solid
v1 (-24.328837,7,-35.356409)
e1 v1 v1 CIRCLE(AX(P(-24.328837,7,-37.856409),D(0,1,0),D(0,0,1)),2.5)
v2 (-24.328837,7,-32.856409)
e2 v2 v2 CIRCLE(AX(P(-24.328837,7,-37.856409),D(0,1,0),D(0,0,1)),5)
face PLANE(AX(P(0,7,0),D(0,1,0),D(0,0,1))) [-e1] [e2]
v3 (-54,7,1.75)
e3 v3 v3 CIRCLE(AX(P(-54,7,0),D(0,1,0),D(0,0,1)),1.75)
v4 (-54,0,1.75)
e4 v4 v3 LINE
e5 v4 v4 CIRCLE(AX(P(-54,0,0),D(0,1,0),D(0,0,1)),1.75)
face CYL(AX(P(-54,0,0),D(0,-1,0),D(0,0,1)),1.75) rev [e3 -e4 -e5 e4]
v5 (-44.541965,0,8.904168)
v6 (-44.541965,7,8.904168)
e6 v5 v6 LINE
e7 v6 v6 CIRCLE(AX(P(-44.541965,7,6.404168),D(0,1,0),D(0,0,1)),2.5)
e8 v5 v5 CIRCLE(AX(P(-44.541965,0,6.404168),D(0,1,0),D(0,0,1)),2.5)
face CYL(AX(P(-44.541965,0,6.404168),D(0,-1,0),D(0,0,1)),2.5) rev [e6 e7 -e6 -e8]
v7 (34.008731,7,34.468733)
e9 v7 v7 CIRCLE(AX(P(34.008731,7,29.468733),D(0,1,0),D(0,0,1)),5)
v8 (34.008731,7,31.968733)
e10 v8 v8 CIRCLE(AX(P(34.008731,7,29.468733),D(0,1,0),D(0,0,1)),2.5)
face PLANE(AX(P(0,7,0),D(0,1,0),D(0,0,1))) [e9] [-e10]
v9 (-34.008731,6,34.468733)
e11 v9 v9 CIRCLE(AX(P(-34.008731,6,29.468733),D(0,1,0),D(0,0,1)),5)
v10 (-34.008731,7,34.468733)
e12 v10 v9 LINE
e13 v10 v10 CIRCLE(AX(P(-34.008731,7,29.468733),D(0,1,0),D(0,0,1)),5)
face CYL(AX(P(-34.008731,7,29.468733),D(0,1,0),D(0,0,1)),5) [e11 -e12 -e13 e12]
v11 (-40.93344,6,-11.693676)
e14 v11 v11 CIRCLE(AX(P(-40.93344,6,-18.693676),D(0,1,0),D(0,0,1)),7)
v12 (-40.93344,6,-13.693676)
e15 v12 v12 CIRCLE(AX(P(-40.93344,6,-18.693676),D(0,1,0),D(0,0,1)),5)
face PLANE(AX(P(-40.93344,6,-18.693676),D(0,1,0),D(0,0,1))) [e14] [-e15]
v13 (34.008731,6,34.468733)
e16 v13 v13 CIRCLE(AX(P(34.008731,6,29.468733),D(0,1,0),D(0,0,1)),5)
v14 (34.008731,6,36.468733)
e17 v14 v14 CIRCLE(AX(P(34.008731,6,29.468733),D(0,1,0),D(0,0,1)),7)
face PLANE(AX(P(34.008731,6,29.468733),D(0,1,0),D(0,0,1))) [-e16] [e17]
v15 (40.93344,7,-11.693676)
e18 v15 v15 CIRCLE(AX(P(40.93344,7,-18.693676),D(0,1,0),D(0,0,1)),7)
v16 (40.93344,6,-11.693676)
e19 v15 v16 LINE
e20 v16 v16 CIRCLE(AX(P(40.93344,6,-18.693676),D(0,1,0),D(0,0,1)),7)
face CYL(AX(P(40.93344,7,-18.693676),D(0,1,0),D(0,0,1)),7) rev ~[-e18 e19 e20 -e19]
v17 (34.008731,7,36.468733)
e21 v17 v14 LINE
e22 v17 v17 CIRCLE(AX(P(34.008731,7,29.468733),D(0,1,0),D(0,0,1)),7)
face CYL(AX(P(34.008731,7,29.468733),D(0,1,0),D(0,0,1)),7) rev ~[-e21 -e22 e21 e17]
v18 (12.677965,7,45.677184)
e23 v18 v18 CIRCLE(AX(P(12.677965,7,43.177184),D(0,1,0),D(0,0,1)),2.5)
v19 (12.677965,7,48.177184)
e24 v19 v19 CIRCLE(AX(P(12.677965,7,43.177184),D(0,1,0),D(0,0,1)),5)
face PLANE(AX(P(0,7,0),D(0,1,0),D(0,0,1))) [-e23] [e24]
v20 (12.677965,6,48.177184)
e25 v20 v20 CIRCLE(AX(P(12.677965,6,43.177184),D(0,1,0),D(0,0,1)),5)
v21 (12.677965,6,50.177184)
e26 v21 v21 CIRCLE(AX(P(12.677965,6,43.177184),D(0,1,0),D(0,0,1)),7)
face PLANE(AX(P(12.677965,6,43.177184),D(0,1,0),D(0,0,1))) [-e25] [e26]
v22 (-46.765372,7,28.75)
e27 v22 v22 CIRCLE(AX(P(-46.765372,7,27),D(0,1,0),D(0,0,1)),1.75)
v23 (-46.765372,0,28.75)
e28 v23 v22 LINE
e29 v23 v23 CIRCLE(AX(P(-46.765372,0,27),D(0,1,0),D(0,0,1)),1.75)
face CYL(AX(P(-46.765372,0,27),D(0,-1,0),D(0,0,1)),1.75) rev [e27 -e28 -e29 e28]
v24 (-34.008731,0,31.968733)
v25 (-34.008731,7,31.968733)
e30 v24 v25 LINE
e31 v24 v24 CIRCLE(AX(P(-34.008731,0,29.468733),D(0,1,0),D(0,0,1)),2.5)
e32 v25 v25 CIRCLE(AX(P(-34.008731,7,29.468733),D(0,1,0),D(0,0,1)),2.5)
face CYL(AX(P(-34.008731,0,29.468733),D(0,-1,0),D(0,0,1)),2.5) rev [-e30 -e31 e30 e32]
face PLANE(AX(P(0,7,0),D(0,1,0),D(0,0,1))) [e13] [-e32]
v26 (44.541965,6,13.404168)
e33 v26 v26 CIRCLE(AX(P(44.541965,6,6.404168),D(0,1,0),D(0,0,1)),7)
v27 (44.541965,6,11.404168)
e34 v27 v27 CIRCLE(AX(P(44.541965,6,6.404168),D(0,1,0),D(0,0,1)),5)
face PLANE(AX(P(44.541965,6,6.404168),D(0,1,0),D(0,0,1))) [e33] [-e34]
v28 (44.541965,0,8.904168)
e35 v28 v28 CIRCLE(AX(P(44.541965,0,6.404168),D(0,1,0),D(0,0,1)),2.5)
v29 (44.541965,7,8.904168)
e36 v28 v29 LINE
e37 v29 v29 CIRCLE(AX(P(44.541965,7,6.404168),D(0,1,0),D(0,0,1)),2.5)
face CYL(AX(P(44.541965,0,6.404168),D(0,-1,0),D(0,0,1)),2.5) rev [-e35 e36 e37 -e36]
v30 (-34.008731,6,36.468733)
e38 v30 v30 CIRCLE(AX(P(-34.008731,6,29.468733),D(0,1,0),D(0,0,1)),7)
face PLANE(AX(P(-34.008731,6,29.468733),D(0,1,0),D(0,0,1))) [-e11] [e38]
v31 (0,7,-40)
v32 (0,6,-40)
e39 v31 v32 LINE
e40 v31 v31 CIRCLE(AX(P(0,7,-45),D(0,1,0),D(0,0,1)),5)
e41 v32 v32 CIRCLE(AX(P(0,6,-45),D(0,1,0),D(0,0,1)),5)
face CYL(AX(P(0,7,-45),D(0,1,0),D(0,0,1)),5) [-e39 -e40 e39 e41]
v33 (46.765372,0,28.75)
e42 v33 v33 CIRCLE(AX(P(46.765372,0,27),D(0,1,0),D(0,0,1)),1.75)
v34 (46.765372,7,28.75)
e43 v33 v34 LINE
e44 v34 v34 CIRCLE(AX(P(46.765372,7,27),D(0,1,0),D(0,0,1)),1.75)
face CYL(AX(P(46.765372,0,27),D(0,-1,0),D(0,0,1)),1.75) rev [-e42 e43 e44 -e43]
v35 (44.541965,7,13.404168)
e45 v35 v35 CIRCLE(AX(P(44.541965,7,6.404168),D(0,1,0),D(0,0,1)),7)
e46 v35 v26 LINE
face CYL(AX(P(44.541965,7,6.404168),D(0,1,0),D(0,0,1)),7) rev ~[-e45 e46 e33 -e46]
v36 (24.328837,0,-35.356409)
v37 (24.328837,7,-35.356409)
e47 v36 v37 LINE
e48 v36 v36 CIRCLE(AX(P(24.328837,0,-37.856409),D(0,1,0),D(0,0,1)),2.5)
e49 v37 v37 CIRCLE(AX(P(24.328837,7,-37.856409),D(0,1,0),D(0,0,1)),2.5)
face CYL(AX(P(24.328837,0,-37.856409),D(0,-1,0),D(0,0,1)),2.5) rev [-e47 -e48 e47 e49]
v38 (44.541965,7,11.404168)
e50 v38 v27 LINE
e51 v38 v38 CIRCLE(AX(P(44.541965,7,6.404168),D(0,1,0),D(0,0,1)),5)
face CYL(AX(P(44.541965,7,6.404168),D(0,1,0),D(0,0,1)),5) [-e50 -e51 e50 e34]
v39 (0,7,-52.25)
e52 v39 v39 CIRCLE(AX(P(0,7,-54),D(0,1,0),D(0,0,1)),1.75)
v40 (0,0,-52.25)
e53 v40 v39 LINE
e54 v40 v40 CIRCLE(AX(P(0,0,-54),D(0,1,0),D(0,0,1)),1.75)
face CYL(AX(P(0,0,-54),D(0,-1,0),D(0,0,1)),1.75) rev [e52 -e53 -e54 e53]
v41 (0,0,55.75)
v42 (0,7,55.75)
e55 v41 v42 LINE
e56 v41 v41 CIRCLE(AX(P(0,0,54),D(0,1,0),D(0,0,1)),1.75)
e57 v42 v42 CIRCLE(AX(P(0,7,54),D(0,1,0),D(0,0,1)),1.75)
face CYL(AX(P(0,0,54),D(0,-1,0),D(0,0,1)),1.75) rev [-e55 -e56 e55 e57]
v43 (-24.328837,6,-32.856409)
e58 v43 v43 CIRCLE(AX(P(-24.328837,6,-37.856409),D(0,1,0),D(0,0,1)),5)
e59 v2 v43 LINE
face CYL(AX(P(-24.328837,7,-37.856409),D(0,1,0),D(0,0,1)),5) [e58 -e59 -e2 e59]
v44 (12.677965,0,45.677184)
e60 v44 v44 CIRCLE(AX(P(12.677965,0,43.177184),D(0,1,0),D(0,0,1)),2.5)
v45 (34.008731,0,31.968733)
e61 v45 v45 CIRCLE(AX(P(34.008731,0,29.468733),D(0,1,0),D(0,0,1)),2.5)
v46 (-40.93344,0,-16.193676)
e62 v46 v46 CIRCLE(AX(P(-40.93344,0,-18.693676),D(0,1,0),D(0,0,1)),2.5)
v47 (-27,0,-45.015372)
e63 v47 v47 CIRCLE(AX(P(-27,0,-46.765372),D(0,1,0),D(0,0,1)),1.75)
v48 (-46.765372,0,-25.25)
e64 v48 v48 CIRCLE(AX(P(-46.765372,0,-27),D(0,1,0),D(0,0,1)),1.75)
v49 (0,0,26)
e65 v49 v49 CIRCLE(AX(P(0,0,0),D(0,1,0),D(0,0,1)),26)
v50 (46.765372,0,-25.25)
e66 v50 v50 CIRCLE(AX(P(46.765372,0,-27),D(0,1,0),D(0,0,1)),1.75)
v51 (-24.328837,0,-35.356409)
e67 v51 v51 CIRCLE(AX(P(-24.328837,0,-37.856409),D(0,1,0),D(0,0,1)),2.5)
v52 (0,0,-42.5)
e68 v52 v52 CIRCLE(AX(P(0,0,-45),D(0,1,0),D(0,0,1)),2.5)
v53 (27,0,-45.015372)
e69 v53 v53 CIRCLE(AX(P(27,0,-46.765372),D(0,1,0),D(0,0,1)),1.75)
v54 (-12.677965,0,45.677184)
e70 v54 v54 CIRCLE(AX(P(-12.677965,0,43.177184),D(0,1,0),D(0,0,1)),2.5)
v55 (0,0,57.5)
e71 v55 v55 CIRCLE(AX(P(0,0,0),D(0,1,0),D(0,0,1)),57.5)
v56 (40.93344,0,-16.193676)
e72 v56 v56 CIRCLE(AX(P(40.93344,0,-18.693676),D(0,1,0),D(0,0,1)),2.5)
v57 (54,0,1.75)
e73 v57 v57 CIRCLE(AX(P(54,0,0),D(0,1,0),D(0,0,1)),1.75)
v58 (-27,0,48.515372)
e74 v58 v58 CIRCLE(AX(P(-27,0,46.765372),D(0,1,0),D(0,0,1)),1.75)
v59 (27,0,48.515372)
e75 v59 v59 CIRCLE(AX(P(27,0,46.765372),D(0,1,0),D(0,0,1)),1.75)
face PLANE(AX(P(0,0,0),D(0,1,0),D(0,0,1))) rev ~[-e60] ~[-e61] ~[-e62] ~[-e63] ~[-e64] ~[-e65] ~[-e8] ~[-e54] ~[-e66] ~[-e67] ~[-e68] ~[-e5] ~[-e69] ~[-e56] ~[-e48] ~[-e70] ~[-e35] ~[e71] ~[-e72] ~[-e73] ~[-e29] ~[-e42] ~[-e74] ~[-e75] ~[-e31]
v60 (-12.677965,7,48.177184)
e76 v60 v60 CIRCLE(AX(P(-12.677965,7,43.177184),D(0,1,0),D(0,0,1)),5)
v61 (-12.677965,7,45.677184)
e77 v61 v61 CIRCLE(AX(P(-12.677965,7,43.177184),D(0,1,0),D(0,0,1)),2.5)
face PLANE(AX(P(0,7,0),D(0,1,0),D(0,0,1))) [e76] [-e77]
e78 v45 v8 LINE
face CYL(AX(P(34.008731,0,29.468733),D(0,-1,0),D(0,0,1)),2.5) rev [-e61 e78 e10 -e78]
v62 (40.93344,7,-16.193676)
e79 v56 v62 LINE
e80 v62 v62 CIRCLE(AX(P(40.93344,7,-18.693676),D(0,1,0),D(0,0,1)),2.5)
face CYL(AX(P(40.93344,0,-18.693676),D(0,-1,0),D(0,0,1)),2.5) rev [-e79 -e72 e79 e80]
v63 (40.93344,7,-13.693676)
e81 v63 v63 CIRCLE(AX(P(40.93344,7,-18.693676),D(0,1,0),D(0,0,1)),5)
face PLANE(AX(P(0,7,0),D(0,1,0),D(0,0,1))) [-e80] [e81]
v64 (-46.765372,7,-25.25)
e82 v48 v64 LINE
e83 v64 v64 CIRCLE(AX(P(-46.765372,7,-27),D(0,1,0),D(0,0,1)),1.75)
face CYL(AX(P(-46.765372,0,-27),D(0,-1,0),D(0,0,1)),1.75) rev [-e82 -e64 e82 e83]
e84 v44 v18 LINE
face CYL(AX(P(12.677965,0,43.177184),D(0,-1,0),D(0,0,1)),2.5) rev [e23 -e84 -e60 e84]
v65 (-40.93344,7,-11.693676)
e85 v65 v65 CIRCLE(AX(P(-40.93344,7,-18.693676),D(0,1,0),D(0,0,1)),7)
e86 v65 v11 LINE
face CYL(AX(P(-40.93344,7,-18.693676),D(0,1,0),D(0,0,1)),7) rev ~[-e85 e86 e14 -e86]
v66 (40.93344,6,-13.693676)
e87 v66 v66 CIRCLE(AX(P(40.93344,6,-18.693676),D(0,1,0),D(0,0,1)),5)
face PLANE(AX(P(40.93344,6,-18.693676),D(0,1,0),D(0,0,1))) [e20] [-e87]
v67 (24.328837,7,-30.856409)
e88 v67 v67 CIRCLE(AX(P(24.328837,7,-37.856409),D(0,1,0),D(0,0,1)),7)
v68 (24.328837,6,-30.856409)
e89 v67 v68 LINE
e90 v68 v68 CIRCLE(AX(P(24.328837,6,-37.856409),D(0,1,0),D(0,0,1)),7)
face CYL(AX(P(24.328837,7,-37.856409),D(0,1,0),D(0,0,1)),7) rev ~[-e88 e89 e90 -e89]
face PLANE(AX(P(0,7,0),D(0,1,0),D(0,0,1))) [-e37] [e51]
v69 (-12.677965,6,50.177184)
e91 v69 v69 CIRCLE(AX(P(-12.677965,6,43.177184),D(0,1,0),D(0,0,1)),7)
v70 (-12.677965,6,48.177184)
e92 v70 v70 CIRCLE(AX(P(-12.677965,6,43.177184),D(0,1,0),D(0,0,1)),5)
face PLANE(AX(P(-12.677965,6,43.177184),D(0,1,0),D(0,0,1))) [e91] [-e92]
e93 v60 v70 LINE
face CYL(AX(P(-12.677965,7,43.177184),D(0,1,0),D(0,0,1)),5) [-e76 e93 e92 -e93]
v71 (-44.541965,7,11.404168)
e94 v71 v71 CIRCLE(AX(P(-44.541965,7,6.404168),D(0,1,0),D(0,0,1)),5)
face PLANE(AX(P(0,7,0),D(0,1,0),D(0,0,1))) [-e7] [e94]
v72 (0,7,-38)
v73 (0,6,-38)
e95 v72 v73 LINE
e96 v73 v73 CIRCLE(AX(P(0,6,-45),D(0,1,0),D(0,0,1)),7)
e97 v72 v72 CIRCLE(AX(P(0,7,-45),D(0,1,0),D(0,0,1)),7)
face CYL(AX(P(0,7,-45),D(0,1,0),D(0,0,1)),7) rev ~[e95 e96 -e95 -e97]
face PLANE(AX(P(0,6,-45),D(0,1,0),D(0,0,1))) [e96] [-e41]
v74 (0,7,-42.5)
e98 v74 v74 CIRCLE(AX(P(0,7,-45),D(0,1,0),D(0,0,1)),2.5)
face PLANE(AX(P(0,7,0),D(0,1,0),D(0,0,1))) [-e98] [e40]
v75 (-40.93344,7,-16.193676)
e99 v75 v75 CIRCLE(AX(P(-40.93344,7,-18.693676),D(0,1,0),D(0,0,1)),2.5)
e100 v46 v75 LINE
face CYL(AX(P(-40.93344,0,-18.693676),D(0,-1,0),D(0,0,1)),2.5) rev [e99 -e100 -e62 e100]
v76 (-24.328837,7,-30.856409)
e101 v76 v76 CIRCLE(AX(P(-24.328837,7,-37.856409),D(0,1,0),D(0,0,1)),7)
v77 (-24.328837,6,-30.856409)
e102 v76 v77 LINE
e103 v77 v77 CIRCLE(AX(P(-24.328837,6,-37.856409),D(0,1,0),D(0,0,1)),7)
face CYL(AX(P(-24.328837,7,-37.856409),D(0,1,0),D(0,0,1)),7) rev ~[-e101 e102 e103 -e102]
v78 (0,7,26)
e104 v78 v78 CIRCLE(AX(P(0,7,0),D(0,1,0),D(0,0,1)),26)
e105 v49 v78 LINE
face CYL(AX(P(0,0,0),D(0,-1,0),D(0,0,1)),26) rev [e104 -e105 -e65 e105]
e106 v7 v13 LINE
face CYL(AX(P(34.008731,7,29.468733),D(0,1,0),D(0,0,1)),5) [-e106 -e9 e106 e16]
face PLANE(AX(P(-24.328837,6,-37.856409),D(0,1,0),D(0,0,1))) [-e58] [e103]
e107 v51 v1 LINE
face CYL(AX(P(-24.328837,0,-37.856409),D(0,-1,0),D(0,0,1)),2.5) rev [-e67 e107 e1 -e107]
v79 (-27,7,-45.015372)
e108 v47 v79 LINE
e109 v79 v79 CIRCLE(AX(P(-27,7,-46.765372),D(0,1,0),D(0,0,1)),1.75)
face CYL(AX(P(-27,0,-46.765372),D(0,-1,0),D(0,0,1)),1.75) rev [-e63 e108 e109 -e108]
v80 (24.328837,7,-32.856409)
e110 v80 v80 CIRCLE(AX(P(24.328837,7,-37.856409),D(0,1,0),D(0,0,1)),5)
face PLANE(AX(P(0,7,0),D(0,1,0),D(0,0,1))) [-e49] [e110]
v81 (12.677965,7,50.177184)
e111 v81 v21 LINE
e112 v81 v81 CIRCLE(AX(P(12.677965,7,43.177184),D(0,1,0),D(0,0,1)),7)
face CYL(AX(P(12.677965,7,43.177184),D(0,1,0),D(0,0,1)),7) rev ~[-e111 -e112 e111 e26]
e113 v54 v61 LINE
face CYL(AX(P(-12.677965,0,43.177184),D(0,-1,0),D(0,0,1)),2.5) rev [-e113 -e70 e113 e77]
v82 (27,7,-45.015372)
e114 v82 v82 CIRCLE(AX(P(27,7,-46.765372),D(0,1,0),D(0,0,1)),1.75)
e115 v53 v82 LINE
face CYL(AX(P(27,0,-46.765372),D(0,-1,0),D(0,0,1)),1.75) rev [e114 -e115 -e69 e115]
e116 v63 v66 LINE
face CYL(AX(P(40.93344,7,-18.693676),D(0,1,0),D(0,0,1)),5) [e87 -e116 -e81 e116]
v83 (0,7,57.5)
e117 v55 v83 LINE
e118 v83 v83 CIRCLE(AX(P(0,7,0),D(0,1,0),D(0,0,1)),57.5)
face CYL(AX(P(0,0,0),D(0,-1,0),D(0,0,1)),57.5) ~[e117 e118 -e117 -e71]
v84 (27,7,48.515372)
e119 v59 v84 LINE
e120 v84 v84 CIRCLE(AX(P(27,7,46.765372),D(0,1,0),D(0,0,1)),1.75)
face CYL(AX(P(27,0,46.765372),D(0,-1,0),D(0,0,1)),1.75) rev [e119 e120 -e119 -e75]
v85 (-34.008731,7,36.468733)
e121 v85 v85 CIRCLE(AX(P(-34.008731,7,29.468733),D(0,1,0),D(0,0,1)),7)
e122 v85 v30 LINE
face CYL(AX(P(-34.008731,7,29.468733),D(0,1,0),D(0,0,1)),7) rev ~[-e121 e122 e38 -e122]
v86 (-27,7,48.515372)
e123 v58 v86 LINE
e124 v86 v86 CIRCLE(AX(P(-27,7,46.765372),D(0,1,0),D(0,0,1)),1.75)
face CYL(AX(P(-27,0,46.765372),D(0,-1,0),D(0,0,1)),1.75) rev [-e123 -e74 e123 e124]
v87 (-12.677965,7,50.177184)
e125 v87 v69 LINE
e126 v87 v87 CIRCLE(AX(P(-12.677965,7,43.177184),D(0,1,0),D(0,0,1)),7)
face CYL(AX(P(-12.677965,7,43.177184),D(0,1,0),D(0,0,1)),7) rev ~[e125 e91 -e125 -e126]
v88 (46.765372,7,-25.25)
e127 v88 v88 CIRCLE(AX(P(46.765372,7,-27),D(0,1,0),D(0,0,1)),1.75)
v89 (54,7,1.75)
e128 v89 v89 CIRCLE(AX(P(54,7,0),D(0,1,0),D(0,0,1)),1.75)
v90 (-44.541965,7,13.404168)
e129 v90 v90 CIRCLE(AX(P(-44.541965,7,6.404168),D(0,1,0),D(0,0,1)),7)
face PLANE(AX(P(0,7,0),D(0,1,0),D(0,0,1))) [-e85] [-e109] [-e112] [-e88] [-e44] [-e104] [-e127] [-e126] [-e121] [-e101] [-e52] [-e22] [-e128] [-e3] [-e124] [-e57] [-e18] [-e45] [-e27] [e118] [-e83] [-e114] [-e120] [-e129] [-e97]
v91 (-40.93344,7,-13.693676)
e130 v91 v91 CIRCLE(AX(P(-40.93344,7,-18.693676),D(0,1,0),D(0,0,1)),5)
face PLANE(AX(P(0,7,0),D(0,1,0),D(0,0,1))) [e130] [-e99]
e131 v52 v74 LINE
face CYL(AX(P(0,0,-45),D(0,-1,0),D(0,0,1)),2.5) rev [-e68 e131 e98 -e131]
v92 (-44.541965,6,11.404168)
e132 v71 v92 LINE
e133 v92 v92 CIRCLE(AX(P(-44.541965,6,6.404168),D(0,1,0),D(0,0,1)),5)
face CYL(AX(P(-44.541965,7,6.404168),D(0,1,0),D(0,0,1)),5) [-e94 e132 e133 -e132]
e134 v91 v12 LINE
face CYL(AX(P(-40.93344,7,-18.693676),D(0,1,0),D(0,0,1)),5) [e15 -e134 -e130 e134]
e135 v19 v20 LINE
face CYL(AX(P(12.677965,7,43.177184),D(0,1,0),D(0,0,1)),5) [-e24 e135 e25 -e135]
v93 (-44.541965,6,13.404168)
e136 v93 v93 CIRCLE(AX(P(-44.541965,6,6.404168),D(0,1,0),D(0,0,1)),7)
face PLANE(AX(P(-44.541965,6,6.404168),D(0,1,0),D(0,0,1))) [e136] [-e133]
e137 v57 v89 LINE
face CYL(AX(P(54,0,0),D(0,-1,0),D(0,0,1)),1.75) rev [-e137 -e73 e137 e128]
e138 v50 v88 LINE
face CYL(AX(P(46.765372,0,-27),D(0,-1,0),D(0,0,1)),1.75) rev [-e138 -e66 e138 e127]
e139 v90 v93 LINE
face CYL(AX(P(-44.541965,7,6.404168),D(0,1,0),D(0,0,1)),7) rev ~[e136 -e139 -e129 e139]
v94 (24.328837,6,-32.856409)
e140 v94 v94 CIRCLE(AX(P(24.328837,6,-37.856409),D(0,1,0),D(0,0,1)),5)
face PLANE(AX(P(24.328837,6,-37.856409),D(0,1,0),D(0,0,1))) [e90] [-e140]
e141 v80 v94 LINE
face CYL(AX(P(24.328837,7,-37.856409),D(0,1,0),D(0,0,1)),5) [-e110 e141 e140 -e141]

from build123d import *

# Parameters (mm, degrees)
SKETCH1_R           = 57.5
SKETCH1_R_2         = 1.75
SKETCH1_R_3         = 26
SKETCH1_R_4         = 2.5
BOSS_EXTRUDE1_DEPTH = 7
SKETCH2_R           = 7
SKETCH2_R_2         = 5
CUT_EXTRUDE1_DEPTH  = 1


with BuildPart() as part:
    # Sketch1 → Boss-Extrude1 (new body)
    with BuildSketch(Plane(origin=(0, 0, 0), x_dir=(1, 0, 0), z_dir=(0, 1, 0))):
        with Locations(Location((0, 0, 0), (0, 0, 270))):
            Circle(SKETCH1_R)
        with Locations(Location((0, 54, 0), (0, 0, 270))):
            Circle(SKETCH1_R_2, mode=Mode.SUBTRACT)
        with Locations(Location((27, 46.765371804, 0), (0, 0, 270))):
            Circle(SKETCH1_R_2, mode=Mode.SUBTRACT)
        with Locations(Location((46.765371804, 27, 0), (0, 0, 270))):
            Circle(SKETCH1_R_2, mode=Mode.SUBTRACT)
        with Locations(Location((54, 0, 0), (0, 0, 270))):
            Circle(SKETCH1_R_2, mode=Mode.SUBTRACT)
        with Locations(Location((46.765371804, -27, 0), (0, 0, 270))):
            Circle(SKETCH1_R_2, mode=Mode.SUBTRACT)
        with Locations(Location((27, -46.765371804, 0), (0, 0, 270))):
            Circle(SKETCH1_R_2, mode=Mode.SUBTRACT)
        with Locations(Location((0, -54, 0), (0, 0, 270))):
            Circle(SKETCH1_R_2, mode=Mode.SUBTRACT)
        with Locations(Location((-27, -46.765371804, 0), (0, 0, 270))):
            Circle(SKETCH1_R_2, mode=Mode.SUBTRACT)
        with Locations(Location((-46.765371804, -27, 0), (0, 0, 270))):
            Circle(SKETCH1_R_2, mode=Mode.SUBTRACT)
        with Locations(Location((-54, 0, 0), (0, 0, 270))):
            Circle(SKETCH1_R_2, mode=Mode.SUBTRACT)
        with Locations(Location((-46.765371804, 27, 0), (0, 0, 270))):
            Circle(SKETCH1_R_2, mode=Mode.SUBTRACT)
        with Locations(Location((-27, 46.765371804, 0), (0, 0, 270))):
            Circle(SKETCH1_R_2, mode=Mode.SUBTRACT)
        with Locations(Location((0, 0, 0), (0, 0, 270))):
            Circle(SKETCH1_R_3, mode=Mode.SUBTRACT)
        with Locations(Location((0, 45, 0), (0, 0, 270))):
            Circle(SKETCH1_R_4, mode=Mode.SUBTRACT)
        with Locations(Location((24.328836786, 37.856408977, 0), (0, 0, 270))):
            Circle(SKETCH1_R_4, mode=Mode.SUBTRACT)
        with Locations(Location((40.933439791, 18.693675585, 0), (0, 0, 270))):
            Circle(SKETCH1_R_4, mode=Mode.SUBTRACT)
        with Locations(Location((44.541964885, -6.404167722, 0), (0, 0, 270))):
            Circle(SKETCH1_R_4, mode=Mode.SUBTRACT)
        with Locations(Location((34.008730846, -29.468733028, 0), (0, 0, 270))):
            Circle(SKETCH1_R_4, mode=Mode.SUBTRACT)
        with Locations(Location((12.677965058, -43.177183813, 0), (0, 0, 270))):
            Circle(SKETCH1_R_4, mode=Mode.SUBTRACT)
        with Locations(Location((-12.677965058, -43.177183813, 0), (0, 0, 270))):
            Circle(SKETCH1_R_4, mode=Mode.SUBTRACT)
        with Locations(Location((-34.008730846, -29.468733028, 0), (0, 0, 270))):
            Circle(SKETCH1_R_4, mode=Mode.SUBTRACT)
        with Locations(Location((-44.541964885, -6.404167722, 0), (0, 0, 270))):
            Circle(SKETCH1_R_4, mode=Mode.SUBTRACT)
        with Locations(Location((-40.933439791, 18.693675585, 0), (0, 0, 270))):
            Circle(SKETCH1_R_4, mode=Mode.SUBTRACT)
        with Locations(Location((-24.328836786, 37.856408977, 0), (0, 0, 270))):
            Circle(SKETCH1_R_4, mode=Mode.SUBTRACT)
    extrude(amount=BOSS_EXTRUDE1_DEPTH)

    # Sketch2 → Cut-Extrude1 (cut)
    # profile 1 of 11: a face of its own
    with BuildSketch(Plane(origin=(0, 7, 0), x_dir=(1, 0, 0), z_dir=(0, 1, 0))):
        with Locations(Location((0, 45, 0), (0, 0, 270))):
            Circle(SKETCH2_R)
        with Locations(Location((0, 45, 0), (0, 0, 270))):
            Circle(SKETCH2_R_2, mode=Mode.SUBTRACT)
    # profile 2 of 11: a face of its own
    with BuildSketch(Plane(origin=(0, 7, 0), x_dir=(1, 0, 0), z_dir=(0, 1, 0))):
        with Locations(Location((24.328836786, 37.856408977, 0), (0, 0, 270))):
            Circle(SKETCH2_R)
        with Locations(Location((24.328836786, 37.856408977, 0), (0, 0, 270))):
            Circle(SKETCH2_R_2, mode=Mode.SUBTRACT)
    # profile 3 of 11: a face of its own
    with BuildSketch(Plane(origin=(0, 7, 0), x_dir=(1, 0, 0), z_dir=(0, 1, 0))):
        with Locations(Location((40.933439791, 18.693675585, 0), (0, 0, 270))):
            Circle(SKETCH2_R)
        with Locations(Location((40.933439791, 18.693675585, 0), (0, 0, 270))):
            Circle(SKETCH2_R_2, mode=Mode.SUBTRACT)
    # profile 4 of 11: a face of its own
    with BuildSketch(Plane(origin=(0, 7, 0), x_dir=(1, 0, 0), z_dir=(0, 1, 0))):
        with Locations(Location((44.541964885, -6.404167722, 0), (0, 0, 270))):
            Circle(SKETCH2_R)
        with Locations(Location((44.541964885, -6.404167722, 0), (0, 0, 270))):
            Circle(SKETCH2_R_2, mode=Mode.SUBTRACT)
    # profile 5 of 11: a face of its own
    with BuildSketch(Plane(origin=(0, 7, 0), x_dir=(1, 0, 0), z_dir=(0, 1, 0))):
        with Locations(Location((34.008730846, -29.468733028, 0), (0, 0, 270))):
            Circle(SKETCH2_R)
        with Locations(Location((34.008730846, -29.468733028, 0), (0, 0, 270))):
            Circle(SKETCH2_R_2, mode=Mode.SUBTRACT)
    # profile 6 of 11: a face of its own
    with BuildSketch(Plane(origin=(0, 7, 0), x_dir=(1, 0, 0), z_dir=(0, 1, 0))):
        with Locations(Location((12.677965058, -43.177183813, 0), (0, 0, 270))):
            Circle(SKETCH2_R)
        with Locations(Location((12.677965058, -43.177183813, 0), (0, 0, 270))):
            Circle(SKETCH2_R_2, mode=Mode.SUBTRACT)
    # profile 7 of 11: a face of its own
    with BuildSketch(Plane(origin=(0, 7, 0), x_dir=(1, 0, 0), z_dir=(0, 1, 0))):
        with Locations(Location((-12.677965058, -43.177183813, 0), (0, 0, 270))):
            Circle(SKETCH2_R)
        with Locations(Location((-12.677965058, -43.177183813, 0), (0, 0, 270))):
            Circle(SKETCH2_R_2, mode=Mode.SUBTRACT)
    # profile 8 of 11: a face of its own
    with BuildSketch(Plane(origin=(0, 7, 0), x_dir=(1, 0, 0), z_dir=(0, 1, 0))):
        with Locations(Location((-34.008730846, -29.468733028, 0), (0, 0, 270))):
            Circle(SKETCH2_R)
        with Locations(Location((-34.008730846, -29.468733028, 0), (0, 0, 270))):
            Circle(SKETCH2_R_2, mode=Mode.SUBTRACT)
    # profile 9 of 11: a face of its own
    with BuildSketch(Plane(origin=(0, 7, 0), x_dir=(1, 0, 0), z_dir=(0, 1, 0))):
        with Locations(Location((-44.541964885, -6.404167722, 0), (0, 0, 270))):
            Circle(SKETCH2_R)
        with Locations(Location((-44.541964885, -6.404167722, 0), (0, 0, 270))):
            Circle(SKETCH2_R_2, mode=Mode.SUBTRACT)
    # profile 10 of 11: a face of its own
    with BuildSketch(Plane(origin=(0, 7, 0), x_dir=(1, 0, 0), z_dir=(0, 1, 0))):
        with Locations(Location((-40.933439791, 18.693675585, 0), (0, 0, 270))):
            Circle(SKETCH2_R)
        with Locations(Location((-40.933439791, 18.693675585, 0), (0, 0, 270))):
            Circle(SKETCH2_R_2, mode=Mode.SUBTRACT)
    # profile 11 of 11: a face of its own
    with BuildSketch(Plane(origin=(0, 7, 0), x_dir=(1, 0, 0), z_dir=(0, 1, 0))):
        with Locations(Location((-24.328836786, 37.856408977, 0), (0, 0, 270))):
            Circle(SKETCH2_R)
        with Locations(Location((-24.328836786, 37.856408977, 0), (0, 0, 270))):
            Circle(SKETCH2_R_2, mode=Mode.SUBTRACT)
    extrude(amount=-CUT_EXTRUDE1_DEPTH, mode=Mode.SUBTRACT)


solid = part.part
